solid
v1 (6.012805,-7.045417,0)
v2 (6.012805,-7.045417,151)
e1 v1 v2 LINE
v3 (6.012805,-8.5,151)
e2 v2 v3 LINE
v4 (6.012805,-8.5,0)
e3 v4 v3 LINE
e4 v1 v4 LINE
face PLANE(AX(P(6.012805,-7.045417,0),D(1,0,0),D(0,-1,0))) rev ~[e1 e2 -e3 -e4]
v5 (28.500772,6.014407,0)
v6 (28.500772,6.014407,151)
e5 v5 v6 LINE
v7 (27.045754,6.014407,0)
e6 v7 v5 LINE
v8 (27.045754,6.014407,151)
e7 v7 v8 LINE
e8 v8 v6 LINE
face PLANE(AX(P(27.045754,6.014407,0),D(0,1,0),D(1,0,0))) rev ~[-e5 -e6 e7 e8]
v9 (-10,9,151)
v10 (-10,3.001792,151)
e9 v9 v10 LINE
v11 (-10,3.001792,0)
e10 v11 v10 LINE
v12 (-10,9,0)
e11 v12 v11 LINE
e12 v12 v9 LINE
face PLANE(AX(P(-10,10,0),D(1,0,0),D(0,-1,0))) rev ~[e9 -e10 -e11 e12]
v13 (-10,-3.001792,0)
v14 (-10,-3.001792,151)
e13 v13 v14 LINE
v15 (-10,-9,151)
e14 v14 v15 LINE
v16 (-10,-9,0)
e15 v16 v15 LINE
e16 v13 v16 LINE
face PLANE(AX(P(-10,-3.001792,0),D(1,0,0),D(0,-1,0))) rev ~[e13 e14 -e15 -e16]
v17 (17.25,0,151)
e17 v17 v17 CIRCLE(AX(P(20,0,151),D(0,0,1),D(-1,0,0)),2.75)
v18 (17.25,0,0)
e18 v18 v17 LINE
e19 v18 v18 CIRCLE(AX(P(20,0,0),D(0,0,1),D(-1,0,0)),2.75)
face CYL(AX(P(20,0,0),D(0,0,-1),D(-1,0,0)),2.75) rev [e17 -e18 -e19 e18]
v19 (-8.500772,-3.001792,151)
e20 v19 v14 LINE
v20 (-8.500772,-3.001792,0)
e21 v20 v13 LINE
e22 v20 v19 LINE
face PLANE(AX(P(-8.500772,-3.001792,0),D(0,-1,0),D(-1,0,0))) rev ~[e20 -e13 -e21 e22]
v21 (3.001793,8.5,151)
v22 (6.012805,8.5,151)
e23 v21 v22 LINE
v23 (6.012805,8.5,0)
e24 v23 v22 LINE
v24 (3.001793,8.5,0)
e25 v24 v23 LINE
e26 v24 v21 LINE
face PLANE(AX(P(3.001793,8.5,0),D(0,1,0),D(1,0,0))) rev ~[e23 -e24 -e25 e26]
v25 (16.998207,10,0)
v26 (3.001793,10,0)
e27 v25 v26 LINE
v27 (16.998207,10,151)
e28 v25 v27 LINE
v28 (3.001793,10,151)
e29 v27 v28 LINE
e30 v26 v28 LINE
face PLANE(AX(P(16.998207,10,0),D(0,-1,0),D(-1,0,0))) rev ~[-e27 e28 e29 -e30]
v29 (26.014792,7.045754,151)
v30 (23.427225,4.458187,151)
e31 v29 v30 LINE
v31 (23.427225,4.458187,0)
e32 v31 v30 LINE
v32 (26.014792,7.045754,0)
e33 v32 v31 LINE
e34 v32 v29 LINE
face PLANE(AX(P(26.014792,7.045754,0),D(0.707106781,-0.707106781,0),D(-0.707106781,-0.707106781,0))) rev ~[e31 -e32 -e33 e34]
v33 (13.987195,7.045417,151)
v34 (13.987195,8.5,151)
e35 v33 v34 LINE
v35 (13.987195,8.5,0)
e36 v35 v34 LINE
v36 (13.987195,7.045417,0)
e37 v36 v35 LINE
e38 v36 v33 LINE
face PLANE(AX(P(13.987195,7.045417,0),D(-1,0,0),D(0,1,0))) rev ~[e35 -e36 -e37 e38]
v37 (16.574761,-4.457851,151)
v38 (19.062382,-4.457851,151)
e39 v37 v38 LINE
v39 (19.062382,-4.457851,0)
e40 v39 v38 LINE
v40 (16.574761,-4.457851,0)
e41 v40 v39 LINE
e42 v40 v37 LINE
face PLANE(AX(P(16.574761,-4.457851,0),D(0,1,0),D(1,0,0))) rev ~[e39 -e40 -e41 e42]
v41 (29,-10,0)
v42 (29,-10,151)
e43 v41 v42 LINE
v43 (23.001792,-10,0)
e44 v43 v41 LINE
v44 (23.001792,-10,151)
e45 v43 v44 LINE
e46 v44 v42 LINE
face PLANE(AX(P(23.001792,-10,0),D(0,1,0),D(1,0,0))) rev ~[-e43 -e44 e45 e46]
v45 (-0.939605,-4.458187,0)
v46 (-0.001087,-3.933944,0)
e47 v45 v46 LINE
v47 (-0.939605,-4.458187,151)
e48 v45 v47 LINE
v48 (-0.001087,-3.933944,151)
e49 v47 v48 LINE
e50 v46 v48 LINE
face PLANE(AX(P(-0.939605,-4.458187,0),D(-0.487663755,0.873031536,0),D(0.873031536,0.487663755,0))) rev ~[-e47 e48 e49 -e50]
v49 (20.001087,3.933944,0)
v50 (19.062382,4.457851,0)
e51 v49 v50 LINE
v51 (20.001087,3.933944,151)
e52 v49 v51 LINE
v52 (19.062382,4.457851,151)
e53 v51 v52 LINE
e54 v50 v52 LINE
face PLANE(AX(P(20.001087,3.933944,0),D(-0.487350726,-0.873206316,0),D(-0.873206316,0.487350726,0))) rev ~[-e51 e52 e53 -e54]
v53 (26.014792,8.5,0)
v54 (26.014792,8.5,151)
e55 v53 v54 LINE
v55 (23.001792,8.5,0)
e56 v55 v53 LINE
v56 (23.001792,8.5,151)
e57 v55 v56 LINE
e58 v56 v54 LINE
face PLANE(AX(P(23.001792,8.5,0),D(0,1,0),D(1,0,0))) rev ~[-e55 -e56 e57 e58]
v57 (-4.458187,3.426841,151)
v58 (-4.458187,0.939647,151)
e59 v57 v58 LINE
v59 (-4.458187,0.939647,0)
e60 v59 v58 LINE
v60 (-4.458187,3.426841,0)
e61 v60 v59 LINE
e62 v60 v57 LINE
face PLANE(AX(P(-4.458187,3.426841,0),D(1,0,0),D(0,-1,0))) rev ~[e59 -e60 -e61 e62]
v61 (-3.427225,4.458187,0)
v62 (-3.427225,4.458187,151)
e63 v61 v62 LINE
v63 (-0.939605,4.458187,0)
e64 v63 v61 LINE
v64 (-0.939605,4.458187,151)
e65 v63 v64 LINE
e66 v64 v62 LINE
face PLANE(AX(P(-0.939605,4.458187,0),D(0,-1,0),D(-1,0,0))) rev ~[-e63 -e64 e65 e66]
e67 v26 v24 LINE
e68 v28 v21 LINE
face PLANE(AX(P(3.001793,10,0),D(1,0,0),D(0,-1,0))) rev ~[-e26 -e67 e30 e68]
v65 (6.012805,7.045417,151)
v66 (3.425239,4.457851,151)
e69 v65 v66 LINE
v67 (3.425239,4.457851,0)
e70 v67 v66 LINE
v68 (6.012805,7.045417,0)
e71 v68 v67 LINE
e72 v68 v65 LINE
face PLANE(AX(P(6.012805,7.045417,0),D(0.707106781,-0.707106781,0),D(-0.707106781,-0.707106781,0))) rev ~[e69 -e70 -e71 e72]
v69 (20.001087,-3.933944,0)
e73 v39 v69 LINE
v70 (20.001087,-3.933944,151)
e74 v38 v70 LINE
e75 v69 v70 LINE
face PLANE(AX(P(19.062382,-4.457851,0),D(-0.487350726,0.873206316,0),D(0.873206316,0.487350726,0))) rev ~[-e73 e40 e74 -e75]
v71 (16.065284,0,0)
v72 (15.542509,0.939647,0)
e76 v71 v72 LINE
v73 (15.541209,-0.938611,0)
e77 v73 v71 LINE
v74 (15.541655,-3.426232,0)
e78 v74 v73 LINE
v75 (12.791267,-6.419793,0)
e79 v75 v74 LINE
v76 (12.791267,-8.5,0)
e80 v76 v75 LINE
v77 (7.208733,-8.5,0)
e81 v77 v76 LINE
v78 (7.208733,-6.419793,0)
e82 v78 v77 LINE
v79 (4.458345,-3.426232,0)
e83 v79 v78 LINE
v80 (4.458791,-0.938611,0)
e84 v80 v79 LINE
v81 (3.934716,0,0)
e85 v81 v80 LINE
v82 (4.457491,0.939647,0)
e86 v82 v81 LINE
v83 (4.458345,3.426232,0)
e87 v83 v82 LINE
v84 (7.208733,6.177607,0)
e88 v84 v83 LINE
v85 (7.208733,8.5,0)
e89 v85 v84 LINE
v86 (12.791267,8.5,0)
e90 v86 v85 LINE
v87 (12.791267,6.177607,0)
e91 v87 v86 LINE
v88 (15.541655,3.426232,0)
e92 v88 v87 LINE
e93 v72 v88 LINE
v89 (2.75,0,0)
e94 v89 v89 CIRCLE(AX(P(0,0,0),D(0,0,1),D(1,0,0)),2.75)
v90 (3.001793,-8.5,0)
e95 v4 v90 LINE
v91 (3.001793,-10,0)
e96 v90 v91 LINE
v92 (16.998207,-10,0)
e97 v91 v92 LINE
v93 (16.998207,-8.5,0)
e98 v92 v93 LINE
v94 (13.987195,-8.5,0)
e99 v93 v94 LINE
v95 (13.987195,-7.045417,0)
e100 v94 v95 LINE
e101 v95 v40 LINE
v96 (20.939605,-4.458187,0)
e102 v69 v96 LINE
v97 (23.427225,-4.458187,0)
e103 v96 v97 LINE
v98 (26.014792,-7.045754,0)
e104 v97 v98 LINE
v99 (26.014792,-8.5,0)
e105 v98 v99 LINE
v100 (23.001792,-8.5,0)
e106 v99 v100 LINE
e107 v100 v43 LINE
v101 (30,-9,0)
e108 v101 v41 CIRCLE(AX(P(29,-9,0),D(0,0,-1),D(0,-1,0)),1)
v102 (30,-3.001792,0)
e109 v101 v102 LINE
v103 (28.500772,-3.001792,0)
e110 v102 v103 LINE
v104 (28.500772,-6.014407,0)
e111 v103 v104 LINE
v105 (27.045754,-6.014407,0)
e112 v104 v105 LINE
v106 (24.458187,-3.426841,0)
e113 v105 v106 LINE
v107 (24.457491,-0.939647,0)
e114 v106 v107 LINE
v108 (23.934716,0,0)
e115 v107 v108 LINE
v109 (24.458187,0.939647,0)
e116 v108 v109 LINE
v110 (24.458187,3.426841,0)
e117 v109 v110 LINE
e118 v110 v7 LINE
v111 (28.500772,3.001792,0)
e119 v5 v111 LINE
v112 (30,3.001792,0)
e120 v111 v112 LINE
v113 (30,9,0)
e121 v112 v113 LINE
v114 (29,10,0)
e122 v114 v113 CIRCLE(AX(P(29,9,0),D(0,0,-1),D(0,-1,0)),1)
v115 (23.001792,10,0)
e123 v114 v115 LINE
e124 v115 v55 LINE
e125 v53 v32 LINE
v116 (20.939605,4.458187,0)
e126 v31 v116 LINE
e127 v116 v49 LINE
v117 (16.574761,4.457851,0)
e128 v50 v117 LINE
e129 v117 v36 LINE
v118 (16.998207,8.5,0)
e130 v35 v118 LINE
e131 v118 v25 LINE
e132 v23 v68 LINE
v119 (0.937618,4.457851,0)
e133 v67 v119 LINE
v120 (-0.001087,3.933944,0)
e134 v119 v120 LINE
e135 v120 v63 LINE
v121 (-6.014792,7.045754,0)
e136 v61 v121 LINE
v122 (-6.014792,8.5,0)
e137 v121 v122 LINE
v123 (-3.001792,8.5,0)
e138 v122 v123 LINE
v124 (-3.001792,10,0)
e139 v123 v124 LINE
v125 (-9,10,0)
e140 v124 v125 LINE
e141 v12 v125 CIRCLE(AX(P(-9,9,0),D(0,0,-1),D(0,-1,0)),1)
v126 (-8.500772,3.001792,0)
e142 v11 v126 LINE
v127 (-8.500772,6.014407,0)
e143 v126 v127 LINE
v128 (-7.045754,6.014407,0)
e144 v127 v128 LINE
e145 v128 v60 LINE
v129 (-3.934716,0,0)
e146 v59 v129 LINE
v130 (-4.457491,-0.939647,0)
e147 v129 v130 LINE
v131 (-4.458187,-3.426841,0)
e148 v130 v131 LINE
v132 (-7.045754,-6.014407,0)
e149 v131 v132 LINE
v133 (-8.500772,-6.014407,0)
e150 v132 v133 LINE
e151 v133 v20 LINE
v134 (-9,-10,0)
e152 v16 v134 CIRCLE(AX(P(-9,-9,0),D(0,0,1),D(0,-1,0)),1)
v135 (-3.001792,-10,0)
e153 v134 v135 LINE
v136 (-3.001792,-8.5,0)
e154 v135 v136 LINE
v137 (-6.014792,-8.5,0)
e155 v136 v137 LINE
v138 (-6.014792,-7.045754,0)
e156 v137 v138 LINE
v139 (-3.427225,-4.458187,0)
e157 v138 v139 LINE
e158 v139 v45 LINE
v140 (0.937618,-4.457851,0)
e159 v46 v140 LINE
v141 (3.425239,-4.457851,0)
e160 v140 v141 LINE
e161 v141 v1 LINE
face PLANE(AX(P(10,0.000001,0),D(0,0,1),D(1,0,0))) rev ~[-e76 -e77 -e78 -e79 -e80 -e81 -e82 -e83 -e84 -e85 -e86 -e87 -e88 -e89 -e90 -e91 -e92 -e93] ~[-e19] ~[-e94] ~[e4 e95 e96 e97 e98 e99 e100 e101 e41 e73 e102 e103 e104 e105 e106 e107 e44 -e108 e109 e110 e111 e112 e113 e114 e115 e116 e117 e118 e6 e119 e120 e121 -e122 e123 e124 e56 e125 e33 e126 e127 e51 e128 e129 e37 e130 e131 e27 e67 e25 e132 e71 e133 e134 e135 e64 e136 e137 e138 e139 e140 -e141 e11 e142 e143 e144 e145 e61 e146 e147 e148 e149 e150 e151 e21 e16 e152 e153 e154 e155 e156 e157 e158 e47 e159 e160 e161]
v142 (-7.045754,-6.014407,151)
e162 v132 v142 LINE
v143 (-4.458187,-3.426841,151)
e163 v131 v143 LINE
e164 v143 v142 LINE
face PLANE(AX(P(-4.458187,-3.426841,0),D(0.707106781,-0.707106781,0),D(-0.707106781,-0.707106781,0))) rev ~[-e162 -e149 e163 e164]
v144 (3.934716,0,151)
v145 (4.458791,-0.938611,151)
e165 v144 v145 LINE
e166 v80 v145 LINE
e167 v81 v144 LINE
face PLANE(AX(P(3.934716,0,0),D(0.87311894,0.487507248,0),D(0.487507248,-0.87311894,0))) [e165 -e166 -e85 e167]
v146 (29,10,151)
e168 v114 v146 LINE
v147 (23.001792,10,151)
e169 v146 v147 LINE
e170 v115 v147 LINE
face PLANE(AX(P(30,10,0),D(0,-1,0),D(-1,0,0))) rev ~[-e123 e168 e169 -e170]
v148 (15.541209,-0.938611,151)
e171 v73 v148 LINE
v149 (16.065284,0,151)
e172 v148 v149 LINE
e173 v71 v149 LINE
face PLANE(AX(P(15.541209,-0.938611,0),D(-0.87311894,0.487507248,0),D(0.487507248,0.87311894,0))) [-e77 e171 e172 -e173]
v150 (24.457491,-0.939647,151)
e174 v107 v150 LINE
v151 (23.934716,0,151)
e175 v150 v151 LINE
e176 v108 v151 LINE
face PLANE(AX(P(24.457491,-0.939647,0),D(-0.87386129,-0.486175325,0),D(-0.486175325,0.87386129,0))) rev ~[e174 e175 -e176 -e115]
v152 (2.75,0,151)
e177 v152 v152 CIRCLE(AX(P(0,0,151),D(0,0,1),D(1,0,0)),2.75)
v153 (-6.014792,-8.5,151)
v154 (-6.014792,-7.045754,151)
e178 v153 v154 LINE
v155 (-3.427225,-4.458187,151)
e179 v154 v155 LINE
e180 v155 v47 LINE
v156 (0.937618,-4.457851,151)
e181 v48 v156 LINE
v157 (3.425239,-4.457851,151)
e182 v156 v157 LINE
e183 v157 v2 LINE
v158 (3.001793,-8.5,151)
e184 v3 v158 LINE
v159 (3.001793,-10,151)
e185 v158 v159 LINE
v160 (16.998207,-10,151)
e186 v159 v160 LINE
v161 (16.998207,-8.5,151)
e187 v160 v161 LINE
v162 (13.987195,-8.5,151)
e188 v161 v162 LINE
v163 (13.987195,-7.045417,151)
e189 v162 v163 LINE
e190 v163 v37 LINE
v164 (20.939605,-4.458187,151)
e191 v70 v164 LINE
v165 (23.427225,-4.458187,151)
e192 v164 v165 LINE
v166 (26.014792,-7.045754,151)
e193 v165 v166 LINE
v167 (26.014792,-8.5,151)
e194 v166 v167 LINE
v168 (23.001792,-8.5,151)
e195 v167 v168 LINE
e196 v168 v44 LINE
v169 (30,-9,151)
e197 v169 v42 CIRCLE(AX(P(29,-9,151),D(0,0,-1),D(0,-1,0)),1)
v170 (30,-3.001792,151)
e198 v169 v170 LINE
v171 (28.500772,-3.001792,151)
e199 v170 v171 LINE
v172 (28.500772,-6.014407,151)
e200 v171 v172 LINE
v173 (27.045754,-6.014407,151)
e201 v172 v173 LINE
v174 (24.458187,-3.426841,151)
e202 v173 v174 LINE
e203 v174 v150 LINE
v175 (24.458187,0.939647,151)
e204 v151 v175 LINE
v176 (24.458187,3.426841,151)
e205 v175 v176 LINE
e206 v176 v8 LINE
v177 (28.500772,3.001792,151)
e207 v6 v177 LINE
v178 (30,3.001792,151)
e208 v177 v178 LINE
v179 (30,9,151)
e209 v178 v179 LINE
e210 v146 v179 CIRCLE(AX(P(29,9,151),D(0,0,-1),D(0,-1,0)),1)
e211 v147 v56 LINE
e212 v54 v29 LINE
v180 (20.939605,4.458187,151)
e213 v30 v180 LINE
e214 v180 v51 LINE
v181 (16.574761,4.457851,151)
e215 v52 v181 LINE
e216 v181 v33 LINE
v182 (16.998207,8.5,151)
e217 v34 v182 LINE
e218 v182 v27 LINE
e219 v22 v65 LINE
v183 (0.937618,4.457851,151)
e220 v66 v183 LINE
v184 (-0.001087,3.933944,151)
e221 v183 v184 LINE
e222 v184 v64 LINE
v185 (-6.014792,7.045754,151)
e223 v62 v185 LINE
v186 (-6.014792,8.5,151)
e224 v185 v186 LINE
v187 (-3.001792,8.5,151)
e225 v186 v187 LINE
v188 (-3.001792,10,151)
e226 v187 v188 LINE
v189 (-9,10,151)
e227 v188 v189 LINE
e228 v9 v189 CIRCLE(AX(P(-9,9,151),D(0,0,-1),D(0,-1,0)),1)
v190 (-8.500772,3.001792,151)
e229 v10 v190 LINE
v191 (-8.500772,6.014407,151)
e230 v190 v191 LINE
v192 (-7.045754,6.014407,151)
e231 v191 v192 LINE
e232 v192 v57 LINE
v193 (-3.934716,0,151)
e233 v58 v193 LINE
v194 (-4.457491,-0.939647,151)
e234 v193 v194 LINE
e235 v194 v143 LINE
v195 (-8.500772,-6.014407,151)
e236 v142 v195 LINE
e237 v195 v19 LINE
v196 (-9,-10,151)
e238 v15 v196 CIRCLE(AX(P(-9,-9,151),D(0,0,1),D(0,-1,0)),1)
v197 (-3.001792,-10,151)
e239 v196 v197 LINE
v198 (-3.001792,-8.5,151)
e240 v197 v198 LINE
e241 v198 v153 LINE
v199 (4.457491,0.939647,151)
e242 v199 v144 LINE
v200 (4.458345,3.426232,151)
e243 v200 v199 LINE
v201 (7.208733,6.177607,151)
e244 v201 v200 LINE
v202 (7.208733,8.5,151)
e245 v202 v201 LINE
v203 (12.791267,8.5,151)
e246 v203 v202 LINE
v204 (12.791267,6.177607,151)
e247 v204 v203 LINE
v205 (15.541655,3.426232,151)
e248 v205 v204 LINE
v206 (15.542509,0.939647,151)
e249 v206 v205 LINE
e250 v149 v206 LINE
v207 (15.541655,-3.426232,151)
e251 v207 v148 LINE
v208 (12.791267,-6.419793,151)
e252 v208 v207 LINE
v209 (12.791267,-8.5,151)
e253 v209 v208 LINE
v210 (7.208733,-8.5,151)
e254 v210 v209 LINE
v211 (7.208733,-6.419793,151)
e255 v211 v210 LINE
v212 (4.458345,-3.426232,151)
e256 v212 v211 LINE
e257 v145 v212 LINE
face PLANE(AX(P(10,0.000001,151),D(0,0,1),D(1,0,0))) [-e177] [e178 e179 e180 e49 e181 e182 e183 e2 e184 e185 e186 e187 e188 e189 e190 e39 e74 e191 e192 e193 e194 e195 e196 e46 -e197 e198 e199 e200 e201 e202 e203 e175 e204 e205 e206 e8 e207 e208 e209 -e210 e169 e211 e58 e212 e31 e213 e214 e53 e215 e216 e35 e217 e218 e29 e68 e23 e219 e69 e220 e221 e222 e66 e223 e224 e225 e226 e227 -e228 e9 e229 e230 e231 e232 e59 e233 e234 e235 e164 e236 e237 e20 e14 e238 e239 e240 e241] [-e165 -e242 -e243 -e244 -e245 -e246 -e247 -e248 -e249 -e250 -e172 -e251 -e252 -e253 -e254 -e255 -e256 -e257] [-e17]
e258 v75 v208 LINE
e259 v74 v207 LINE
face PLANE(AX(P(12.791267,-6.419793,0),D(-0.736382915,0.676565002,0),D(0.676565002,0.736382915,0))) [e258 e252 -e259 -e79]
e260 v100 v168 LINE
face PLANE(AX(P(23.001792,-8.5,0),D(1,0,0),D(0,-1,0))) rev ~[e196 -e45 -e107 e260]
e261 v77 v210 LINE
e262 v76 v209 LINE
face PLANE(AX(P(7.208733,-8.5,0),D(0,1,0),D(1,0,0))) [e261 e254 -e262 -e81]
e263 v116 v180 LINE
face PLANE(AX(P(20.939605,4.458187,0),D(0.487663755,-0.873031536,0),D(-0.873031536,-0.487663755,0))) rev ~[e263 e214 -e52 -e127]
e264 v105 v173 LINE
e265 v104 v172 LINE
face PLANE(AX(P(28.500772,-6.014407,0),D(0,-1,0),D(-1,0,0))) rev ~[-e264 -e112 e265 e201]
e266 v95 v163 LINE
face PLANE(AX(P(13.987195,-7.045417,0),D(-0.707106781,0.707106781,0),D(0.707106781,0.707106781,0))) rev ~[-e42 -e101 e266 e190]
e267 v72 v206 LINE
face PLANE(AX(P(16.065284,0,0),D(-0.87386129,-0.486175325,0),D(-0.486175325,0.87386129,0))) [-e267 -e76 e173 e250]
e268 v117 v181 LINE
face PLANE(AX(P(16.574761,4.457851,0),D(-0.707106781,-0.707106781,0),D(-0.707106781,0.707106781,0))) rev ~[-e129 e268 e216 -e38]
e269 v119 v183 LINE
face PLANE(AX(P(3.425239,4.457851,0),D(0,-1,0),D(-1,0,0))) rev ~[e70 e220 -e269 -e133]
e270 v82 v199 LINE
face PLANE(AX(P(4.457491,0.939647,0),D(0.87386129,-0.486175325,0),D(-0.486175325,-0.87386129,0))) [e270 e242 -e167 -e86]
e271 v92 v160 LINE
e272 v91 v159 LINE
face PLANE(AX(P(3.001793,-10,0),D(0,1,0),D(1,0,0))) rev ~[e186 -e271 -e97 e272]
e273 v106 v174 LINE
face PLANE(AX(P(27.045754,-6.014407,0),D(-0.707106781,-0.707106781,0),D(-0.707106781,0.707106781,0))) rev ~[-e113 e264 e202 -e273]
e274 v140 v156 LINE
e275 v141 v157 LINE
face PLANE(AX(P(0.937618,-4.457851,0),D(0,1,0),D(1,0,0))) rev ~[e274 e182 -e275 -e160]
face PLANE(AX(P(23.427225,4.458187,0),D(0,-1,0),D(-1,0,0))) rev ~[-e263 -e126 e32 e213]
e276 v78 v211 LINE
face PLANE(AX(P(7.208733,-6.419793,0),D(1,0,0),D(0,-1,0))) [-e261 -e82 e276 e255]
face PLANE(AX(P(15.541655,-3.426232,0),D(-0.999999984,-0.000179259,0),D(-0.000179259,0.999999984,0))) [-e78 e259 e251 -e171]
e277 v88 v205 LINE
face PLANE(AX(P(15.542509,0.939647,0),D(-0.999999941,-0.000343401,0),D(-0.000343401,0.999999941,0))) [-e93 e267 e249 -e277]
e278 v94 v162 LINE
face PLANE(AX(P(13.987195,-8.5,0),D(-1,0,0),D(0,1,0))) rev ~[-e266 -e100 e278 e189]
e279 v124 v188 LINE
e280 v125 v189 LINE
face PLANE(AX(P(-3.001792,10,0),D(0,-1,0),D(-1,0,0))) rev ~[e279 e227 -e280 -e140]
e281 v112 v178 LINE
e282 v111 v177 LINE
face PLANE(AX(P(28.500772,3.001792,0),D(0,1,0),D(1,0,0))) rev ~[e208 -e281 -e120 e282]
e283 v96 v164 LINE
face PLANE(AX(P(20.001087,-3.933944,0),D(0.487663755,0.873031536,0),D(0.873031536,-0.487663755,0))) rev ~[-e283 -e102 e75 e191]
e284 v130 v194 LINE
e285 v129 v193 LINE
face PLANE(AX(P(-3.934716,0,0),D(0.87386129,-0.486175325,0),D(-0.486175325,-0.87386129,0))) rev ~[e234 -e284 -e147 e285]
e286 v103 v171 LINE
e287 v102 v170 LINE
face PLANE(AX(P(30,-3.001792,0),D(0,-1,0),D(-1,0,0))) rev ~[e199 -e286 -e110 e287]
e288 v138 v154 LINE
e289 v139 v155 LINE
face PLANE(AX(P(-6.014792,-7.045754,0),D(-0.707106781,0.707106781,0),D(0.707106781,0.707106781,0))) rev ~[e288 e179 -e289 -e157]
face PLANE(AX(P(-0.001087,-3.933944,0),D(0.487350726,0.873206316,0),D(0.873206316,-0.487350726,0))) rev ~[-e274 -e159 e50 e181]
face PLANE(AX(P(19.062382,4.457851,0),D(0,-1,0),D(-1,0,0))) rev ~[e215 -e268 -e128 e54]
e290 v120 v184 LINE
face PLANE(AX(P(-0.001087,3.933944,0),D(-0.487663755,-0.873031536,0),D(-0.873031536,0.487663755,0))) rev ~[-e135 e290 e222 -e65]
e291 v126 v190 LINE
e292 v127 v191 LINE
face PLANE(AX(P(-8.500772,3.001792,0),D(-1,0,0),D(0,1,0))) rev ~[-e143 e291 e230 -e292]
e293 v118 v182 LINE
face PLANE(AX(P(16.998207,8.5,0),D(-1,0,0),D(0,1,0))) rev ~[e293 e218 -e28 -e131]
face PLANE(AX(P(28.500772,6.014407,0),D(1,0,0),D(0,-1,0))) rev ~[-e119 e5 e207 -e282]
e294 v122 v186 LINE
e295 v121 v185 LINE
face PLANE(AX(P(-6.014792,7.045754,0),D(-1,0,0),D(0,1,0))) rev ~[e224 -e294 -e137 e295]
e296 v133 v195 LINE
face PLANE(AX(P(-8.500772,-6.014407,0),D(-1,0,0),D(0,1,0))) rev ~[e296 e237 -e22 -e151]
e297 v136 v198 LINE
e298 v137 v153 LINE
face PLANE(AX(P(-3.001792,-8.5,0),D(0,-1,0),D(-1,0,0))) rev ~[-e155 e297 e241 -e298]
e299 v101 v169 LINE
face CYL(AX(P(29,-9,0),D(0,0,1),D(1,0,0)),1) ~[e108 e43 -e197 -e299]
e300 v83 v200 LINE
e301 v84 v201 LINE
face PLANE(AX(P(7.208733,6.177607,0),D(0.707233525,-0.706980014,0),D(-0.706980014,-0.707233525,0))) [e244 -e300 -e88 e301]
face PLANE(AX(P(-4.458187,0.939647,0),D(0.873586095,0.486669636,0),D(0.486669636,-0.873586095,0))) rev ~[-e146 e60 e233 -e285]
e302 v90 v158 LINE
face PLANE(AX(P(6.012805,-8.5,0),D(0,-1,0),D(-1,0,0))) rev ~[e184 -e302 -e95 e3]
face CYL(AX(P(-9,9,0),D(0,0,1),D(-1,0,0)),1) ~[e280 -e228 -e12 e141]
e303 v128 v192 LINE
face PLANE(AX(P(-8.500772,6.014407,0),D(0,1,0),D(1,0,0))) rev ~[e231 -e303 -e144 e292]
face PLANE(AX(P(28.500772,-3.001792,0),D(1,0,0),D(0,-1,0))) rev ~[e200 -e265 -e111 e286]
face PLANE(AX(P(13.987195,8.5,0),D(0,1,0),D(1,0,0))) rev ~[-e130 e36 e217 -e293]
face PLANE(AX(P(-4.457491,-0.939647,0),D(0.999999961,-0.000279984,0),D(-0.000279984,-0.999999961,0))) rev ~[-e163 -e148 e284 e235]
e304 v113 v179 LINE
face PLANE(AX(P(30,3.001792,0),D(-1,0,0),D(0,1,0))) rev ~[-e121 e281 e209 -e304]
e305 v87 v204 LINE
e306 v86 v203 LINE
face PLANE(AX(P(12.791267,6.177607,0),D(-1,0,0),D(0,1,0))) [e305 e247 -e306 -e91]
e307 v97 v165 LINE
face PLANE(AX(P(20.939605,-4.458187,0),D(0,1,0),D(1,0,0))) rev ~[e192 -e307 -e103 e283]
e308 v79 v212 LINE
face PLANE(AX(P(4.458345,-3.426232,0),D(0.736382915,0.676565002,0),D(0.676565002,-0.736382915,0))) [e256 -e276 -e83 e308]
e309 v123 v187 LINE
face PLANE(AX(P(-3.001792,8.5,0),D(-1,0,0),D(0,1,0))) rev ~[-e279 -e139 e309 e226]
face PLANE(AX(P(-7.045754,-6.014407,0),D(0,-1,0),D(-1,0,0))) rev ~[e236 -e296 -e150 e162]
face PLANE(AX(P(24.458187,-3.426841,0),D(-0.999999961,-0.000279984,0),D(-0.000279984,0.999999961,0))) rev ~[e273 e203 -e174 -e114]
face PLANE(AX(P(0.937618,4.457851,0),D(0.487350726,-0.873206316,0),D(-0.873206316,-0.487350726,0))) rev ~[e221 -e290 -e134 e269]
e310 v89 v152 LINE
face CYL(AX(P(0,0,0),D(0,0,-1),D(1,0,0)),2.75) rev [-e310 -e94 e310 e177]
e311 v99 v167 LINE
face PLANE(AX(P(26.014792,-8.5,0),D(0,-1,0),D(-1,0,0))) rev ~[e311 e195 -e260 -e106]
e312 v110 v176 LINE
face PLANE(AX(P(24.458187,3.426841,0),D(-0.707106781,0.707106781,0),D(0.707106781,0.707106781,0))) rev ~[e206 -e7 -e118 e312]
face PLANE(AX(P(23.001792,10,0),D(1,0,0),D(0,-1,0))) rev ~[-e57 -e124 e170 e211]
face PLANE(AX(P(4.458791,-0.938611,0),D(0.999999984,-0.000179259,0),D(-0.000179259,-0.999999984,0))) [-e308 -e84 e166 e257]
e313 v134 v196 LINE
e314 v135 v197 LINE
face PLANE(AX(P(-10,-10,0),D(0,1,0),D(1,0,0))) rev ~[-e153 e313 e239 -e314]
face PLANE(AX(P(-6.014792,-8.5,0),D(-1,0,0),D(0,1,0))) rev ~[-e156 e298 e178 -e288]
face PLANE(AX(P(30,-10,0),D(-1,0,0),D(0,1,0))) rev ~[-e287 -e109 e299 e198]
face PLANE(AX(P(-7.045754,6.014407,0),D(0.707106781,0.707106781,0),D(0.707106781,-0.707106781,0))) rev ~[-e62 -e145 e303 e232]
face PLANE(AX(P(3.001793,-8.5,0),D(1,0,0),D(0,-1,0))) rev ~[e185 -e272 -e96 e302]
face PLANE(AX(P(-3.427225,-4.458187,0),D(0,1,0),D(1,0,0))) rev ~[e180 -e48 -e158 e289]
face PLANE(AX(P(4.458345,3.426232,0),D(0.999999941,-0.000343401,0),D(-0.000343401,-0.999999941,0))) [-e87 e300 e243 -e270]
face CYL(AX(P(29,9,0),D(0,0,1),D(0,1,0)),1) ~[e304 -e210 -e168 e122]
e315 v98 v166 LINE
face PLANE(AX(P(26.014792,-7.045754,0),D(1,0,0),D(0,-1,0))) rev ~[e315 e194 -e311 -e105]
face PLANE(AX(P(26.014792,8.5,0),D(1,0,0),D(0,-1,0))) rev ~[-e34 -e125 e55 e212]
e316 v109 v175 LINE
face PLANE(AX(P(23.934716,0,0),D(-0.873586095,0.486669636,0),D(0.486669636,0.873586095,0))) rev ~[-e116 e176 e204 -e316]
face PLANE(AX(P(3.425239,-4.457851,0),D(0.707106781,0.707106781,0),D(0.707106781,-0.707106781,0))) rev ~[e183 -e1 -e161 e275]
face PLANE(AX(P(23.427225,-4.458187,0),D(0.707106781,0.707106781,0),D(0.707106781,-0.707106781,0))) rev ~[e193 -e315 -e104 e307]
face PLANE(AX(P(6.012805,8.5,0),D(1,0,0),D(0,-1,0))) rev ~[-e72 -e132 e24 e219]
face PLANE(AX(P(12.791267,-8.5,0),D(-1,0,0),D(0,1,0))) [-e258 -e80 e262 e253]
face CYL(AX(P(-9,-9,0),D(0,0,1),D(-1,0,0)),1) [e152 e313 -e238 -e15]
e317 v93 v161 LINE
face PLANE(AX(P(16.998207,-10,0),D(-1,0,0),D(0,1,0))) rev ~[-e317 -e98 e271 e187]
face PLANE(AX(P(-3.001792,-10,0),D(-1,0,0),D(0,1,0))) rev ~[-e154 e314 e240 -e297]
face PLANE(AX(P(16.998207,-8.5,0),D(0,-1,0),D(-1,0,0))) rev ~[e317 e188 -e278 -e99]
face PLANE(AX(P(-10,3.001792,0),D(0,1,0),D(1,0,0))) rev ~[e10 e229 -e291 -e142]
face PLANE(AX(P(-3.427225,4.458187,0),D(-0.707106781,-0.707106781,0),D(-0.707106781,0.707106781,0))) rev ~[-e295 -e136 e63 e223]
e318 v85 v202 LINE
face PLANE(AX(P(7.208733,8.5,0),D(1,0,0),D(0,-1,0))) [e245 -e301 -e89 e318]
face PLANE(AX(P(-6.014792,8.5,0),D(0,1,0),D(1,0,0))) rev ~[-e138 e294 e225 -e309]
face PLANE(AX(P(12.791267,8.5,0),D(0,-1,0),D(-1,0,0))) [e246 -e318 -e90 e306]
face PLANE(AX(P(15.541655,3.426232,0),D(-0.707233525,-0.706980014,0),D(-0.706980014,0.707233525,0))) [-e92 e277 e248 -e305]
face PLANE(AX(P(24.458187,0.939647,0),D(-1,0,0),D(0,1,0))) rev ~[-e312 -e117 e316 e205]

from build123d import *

# Parameters (mm, degrees)
SKETCH1_R           = 2.75
BOSS_EXTRUDE1_DEPTH = 151
FILLET2_R           = 1
FILLET4_R           = 1
FILLET5_R           = 1
FILLET6_R           = 1


with BuildPart() as part:
    # Sketch1 → Boss-Extrude1 (new body)
    with BuildSketch(Plane.XY):
        Polygon((-3.001792446, 10), (-10, 10), (-10, 3.001792446), (-8.500771543, 3.001792446), (-8.500771543, 6.014407427), (-7.045753692, 6.014407427), (-4.458187435, 3.426841169), (-4.458187435, 0.939646666), (-3.934715846, 0), (-4.45749106, -0.939646666), (-4.458187435, -3.426841169), (-7.045753692, -6.014407427), (-8.500771543, -6.014407427), (-8.500771543, -3.001792446), (-10, -3.001792446), (-10, -10), (-3.001792446, -10), (-3.001792446, -8.499999951), (-6.014791508, -8.499999951), (-6.014791508, -7.045753643), (-3.427225251, -4.458187385), (-0.939604714, -4.458187385), (-0.00108721, -3.933944043), (0.937618184, -4.457850876), (3.425238721, -4.457850876), (6.012804978, -7.045417133), (6.012804978, -8.500000007), (3.001792545, -8.500000007), (3.001792545, -10), (16.998207455, -10), (16.998207455, -8.500000007), (13.987195022, -8.500000007), (13.987195022, -7.045417133), (16.574761279, -4.457850876), (19.062381816, -4.457850876), (20.00108721, -3.933944043), (20.939604714, -4.458187385), (23.427225251, -4.458187385), (26.014791508, -7.045753643), (26.014791508, -8.499999951), (23.001792446, -8.499999951), (23.001792446, -10), (30, -10), (30, -3.001792446), (28.500771543, -3.001792446), (28.500771543, -6.014407427), (27.045753692, -6.014407427), (24.458187435, -3.426841169), (24.45749106, -0.939646666), (23.934715846, 0), (24.458187435, 0.939646666), (24.458187435, 3.426841169), (27.045753692, 6.014407427), (28.500771543, 6.014407427), (28.500771543, 3.001792446), (30, 3.001792446), (30, 10), (23.001792446, 10), (23.001792446, 8.499999951), (26.014791508, 8.499999951), (26.014791508, 7.045753643), (23.427225251, 4.458187385), (20.939604714, 4.458187385), (20.00108721, 3.933944043), (19.062381816, 4.457850876), (16.574761279, 4.457850876), (13.987195022, 7.045417133), (13.987195022, 8.499999951), (16.998207356, 8.499999951), (16.998207356, 10), (3.001792643, 10), (3.001792643, 8.499999951), (6.012804978, 8.499999951), (6.012804978, 7.045417133), (3.425238721, 4.457850876), (0.937618184, 4.457850876), (-0.00108721, 3.933944043), (-0.939604714, 4.458187385), (-3.427225251, 4.458187385), (-6.014791508, 7.045753643), (-6.014791508, 8.499999951), (-3.001792446, 8.499999951), align=None)
        Circle(SKETCH1_R, mode=Mode.SUBTRACT)
        with Locations(Location((20, 0, 0), (0, 0, 180))):
            Circle(SKETCH1_R, mode=Mode.SUBTRACT)
        Polygon((7.208733292, -6.419793455), (7.208733292, -8.500000007), (12.791266708, -8.500000007), (12.791266708, -6.419793455), (15.541654987, -3.426231961), (15.541209058, -0.938611464), (16.065284154, 0), (15.54250894, 0.939646666), (15.541655044, 3.426231961), (12.791266708, 6.17760654), (12.791266708, 8.499999951), (7.208733292, 8.499999951), (7.208733292, 6.17760654), (4.458344956, 3.426231961), (4.45749106, 0.939646666), (3.934715846, 0), (4.458790942, -0.938611464), (4.458345013, -3.426231961), align=None, mode=Mode.SUBTRACT)
    extrude(amount=BOSS_EXTRUDE1_DEPTH)

    # Fillet2
    fillet2_edges = [part.edges().sort_by_distance(p)[0] for p in [
        (-10, -10, 75.5),
    ]]
    fillet(fillet2_edges, radius=FILLET2_R)

    # Fillet4
    fillet4_edges = [part.edges().sort_by_distance(p)[0] for p in [
        (-10, 10, 75.5),
    ]]
    fillet(fillet4_edges, radius=FILLET4_R)

    # Fillet5
    fillet5_edges = [part.edges().sort_by_distance(p)[0] for p in [
        (30, 10, 75.5),
    ]]
    fillet(fillet5_edges, radius=FILLET5_R)

    # Fillet6
    fillet6_edges = [part.edges().sort_by_distance(p)[0] for p in [
        (30, -10, 75.5),
    ]]
    fillet(fillet6_edges, radius=FILLET6_R)


solid = part.part
